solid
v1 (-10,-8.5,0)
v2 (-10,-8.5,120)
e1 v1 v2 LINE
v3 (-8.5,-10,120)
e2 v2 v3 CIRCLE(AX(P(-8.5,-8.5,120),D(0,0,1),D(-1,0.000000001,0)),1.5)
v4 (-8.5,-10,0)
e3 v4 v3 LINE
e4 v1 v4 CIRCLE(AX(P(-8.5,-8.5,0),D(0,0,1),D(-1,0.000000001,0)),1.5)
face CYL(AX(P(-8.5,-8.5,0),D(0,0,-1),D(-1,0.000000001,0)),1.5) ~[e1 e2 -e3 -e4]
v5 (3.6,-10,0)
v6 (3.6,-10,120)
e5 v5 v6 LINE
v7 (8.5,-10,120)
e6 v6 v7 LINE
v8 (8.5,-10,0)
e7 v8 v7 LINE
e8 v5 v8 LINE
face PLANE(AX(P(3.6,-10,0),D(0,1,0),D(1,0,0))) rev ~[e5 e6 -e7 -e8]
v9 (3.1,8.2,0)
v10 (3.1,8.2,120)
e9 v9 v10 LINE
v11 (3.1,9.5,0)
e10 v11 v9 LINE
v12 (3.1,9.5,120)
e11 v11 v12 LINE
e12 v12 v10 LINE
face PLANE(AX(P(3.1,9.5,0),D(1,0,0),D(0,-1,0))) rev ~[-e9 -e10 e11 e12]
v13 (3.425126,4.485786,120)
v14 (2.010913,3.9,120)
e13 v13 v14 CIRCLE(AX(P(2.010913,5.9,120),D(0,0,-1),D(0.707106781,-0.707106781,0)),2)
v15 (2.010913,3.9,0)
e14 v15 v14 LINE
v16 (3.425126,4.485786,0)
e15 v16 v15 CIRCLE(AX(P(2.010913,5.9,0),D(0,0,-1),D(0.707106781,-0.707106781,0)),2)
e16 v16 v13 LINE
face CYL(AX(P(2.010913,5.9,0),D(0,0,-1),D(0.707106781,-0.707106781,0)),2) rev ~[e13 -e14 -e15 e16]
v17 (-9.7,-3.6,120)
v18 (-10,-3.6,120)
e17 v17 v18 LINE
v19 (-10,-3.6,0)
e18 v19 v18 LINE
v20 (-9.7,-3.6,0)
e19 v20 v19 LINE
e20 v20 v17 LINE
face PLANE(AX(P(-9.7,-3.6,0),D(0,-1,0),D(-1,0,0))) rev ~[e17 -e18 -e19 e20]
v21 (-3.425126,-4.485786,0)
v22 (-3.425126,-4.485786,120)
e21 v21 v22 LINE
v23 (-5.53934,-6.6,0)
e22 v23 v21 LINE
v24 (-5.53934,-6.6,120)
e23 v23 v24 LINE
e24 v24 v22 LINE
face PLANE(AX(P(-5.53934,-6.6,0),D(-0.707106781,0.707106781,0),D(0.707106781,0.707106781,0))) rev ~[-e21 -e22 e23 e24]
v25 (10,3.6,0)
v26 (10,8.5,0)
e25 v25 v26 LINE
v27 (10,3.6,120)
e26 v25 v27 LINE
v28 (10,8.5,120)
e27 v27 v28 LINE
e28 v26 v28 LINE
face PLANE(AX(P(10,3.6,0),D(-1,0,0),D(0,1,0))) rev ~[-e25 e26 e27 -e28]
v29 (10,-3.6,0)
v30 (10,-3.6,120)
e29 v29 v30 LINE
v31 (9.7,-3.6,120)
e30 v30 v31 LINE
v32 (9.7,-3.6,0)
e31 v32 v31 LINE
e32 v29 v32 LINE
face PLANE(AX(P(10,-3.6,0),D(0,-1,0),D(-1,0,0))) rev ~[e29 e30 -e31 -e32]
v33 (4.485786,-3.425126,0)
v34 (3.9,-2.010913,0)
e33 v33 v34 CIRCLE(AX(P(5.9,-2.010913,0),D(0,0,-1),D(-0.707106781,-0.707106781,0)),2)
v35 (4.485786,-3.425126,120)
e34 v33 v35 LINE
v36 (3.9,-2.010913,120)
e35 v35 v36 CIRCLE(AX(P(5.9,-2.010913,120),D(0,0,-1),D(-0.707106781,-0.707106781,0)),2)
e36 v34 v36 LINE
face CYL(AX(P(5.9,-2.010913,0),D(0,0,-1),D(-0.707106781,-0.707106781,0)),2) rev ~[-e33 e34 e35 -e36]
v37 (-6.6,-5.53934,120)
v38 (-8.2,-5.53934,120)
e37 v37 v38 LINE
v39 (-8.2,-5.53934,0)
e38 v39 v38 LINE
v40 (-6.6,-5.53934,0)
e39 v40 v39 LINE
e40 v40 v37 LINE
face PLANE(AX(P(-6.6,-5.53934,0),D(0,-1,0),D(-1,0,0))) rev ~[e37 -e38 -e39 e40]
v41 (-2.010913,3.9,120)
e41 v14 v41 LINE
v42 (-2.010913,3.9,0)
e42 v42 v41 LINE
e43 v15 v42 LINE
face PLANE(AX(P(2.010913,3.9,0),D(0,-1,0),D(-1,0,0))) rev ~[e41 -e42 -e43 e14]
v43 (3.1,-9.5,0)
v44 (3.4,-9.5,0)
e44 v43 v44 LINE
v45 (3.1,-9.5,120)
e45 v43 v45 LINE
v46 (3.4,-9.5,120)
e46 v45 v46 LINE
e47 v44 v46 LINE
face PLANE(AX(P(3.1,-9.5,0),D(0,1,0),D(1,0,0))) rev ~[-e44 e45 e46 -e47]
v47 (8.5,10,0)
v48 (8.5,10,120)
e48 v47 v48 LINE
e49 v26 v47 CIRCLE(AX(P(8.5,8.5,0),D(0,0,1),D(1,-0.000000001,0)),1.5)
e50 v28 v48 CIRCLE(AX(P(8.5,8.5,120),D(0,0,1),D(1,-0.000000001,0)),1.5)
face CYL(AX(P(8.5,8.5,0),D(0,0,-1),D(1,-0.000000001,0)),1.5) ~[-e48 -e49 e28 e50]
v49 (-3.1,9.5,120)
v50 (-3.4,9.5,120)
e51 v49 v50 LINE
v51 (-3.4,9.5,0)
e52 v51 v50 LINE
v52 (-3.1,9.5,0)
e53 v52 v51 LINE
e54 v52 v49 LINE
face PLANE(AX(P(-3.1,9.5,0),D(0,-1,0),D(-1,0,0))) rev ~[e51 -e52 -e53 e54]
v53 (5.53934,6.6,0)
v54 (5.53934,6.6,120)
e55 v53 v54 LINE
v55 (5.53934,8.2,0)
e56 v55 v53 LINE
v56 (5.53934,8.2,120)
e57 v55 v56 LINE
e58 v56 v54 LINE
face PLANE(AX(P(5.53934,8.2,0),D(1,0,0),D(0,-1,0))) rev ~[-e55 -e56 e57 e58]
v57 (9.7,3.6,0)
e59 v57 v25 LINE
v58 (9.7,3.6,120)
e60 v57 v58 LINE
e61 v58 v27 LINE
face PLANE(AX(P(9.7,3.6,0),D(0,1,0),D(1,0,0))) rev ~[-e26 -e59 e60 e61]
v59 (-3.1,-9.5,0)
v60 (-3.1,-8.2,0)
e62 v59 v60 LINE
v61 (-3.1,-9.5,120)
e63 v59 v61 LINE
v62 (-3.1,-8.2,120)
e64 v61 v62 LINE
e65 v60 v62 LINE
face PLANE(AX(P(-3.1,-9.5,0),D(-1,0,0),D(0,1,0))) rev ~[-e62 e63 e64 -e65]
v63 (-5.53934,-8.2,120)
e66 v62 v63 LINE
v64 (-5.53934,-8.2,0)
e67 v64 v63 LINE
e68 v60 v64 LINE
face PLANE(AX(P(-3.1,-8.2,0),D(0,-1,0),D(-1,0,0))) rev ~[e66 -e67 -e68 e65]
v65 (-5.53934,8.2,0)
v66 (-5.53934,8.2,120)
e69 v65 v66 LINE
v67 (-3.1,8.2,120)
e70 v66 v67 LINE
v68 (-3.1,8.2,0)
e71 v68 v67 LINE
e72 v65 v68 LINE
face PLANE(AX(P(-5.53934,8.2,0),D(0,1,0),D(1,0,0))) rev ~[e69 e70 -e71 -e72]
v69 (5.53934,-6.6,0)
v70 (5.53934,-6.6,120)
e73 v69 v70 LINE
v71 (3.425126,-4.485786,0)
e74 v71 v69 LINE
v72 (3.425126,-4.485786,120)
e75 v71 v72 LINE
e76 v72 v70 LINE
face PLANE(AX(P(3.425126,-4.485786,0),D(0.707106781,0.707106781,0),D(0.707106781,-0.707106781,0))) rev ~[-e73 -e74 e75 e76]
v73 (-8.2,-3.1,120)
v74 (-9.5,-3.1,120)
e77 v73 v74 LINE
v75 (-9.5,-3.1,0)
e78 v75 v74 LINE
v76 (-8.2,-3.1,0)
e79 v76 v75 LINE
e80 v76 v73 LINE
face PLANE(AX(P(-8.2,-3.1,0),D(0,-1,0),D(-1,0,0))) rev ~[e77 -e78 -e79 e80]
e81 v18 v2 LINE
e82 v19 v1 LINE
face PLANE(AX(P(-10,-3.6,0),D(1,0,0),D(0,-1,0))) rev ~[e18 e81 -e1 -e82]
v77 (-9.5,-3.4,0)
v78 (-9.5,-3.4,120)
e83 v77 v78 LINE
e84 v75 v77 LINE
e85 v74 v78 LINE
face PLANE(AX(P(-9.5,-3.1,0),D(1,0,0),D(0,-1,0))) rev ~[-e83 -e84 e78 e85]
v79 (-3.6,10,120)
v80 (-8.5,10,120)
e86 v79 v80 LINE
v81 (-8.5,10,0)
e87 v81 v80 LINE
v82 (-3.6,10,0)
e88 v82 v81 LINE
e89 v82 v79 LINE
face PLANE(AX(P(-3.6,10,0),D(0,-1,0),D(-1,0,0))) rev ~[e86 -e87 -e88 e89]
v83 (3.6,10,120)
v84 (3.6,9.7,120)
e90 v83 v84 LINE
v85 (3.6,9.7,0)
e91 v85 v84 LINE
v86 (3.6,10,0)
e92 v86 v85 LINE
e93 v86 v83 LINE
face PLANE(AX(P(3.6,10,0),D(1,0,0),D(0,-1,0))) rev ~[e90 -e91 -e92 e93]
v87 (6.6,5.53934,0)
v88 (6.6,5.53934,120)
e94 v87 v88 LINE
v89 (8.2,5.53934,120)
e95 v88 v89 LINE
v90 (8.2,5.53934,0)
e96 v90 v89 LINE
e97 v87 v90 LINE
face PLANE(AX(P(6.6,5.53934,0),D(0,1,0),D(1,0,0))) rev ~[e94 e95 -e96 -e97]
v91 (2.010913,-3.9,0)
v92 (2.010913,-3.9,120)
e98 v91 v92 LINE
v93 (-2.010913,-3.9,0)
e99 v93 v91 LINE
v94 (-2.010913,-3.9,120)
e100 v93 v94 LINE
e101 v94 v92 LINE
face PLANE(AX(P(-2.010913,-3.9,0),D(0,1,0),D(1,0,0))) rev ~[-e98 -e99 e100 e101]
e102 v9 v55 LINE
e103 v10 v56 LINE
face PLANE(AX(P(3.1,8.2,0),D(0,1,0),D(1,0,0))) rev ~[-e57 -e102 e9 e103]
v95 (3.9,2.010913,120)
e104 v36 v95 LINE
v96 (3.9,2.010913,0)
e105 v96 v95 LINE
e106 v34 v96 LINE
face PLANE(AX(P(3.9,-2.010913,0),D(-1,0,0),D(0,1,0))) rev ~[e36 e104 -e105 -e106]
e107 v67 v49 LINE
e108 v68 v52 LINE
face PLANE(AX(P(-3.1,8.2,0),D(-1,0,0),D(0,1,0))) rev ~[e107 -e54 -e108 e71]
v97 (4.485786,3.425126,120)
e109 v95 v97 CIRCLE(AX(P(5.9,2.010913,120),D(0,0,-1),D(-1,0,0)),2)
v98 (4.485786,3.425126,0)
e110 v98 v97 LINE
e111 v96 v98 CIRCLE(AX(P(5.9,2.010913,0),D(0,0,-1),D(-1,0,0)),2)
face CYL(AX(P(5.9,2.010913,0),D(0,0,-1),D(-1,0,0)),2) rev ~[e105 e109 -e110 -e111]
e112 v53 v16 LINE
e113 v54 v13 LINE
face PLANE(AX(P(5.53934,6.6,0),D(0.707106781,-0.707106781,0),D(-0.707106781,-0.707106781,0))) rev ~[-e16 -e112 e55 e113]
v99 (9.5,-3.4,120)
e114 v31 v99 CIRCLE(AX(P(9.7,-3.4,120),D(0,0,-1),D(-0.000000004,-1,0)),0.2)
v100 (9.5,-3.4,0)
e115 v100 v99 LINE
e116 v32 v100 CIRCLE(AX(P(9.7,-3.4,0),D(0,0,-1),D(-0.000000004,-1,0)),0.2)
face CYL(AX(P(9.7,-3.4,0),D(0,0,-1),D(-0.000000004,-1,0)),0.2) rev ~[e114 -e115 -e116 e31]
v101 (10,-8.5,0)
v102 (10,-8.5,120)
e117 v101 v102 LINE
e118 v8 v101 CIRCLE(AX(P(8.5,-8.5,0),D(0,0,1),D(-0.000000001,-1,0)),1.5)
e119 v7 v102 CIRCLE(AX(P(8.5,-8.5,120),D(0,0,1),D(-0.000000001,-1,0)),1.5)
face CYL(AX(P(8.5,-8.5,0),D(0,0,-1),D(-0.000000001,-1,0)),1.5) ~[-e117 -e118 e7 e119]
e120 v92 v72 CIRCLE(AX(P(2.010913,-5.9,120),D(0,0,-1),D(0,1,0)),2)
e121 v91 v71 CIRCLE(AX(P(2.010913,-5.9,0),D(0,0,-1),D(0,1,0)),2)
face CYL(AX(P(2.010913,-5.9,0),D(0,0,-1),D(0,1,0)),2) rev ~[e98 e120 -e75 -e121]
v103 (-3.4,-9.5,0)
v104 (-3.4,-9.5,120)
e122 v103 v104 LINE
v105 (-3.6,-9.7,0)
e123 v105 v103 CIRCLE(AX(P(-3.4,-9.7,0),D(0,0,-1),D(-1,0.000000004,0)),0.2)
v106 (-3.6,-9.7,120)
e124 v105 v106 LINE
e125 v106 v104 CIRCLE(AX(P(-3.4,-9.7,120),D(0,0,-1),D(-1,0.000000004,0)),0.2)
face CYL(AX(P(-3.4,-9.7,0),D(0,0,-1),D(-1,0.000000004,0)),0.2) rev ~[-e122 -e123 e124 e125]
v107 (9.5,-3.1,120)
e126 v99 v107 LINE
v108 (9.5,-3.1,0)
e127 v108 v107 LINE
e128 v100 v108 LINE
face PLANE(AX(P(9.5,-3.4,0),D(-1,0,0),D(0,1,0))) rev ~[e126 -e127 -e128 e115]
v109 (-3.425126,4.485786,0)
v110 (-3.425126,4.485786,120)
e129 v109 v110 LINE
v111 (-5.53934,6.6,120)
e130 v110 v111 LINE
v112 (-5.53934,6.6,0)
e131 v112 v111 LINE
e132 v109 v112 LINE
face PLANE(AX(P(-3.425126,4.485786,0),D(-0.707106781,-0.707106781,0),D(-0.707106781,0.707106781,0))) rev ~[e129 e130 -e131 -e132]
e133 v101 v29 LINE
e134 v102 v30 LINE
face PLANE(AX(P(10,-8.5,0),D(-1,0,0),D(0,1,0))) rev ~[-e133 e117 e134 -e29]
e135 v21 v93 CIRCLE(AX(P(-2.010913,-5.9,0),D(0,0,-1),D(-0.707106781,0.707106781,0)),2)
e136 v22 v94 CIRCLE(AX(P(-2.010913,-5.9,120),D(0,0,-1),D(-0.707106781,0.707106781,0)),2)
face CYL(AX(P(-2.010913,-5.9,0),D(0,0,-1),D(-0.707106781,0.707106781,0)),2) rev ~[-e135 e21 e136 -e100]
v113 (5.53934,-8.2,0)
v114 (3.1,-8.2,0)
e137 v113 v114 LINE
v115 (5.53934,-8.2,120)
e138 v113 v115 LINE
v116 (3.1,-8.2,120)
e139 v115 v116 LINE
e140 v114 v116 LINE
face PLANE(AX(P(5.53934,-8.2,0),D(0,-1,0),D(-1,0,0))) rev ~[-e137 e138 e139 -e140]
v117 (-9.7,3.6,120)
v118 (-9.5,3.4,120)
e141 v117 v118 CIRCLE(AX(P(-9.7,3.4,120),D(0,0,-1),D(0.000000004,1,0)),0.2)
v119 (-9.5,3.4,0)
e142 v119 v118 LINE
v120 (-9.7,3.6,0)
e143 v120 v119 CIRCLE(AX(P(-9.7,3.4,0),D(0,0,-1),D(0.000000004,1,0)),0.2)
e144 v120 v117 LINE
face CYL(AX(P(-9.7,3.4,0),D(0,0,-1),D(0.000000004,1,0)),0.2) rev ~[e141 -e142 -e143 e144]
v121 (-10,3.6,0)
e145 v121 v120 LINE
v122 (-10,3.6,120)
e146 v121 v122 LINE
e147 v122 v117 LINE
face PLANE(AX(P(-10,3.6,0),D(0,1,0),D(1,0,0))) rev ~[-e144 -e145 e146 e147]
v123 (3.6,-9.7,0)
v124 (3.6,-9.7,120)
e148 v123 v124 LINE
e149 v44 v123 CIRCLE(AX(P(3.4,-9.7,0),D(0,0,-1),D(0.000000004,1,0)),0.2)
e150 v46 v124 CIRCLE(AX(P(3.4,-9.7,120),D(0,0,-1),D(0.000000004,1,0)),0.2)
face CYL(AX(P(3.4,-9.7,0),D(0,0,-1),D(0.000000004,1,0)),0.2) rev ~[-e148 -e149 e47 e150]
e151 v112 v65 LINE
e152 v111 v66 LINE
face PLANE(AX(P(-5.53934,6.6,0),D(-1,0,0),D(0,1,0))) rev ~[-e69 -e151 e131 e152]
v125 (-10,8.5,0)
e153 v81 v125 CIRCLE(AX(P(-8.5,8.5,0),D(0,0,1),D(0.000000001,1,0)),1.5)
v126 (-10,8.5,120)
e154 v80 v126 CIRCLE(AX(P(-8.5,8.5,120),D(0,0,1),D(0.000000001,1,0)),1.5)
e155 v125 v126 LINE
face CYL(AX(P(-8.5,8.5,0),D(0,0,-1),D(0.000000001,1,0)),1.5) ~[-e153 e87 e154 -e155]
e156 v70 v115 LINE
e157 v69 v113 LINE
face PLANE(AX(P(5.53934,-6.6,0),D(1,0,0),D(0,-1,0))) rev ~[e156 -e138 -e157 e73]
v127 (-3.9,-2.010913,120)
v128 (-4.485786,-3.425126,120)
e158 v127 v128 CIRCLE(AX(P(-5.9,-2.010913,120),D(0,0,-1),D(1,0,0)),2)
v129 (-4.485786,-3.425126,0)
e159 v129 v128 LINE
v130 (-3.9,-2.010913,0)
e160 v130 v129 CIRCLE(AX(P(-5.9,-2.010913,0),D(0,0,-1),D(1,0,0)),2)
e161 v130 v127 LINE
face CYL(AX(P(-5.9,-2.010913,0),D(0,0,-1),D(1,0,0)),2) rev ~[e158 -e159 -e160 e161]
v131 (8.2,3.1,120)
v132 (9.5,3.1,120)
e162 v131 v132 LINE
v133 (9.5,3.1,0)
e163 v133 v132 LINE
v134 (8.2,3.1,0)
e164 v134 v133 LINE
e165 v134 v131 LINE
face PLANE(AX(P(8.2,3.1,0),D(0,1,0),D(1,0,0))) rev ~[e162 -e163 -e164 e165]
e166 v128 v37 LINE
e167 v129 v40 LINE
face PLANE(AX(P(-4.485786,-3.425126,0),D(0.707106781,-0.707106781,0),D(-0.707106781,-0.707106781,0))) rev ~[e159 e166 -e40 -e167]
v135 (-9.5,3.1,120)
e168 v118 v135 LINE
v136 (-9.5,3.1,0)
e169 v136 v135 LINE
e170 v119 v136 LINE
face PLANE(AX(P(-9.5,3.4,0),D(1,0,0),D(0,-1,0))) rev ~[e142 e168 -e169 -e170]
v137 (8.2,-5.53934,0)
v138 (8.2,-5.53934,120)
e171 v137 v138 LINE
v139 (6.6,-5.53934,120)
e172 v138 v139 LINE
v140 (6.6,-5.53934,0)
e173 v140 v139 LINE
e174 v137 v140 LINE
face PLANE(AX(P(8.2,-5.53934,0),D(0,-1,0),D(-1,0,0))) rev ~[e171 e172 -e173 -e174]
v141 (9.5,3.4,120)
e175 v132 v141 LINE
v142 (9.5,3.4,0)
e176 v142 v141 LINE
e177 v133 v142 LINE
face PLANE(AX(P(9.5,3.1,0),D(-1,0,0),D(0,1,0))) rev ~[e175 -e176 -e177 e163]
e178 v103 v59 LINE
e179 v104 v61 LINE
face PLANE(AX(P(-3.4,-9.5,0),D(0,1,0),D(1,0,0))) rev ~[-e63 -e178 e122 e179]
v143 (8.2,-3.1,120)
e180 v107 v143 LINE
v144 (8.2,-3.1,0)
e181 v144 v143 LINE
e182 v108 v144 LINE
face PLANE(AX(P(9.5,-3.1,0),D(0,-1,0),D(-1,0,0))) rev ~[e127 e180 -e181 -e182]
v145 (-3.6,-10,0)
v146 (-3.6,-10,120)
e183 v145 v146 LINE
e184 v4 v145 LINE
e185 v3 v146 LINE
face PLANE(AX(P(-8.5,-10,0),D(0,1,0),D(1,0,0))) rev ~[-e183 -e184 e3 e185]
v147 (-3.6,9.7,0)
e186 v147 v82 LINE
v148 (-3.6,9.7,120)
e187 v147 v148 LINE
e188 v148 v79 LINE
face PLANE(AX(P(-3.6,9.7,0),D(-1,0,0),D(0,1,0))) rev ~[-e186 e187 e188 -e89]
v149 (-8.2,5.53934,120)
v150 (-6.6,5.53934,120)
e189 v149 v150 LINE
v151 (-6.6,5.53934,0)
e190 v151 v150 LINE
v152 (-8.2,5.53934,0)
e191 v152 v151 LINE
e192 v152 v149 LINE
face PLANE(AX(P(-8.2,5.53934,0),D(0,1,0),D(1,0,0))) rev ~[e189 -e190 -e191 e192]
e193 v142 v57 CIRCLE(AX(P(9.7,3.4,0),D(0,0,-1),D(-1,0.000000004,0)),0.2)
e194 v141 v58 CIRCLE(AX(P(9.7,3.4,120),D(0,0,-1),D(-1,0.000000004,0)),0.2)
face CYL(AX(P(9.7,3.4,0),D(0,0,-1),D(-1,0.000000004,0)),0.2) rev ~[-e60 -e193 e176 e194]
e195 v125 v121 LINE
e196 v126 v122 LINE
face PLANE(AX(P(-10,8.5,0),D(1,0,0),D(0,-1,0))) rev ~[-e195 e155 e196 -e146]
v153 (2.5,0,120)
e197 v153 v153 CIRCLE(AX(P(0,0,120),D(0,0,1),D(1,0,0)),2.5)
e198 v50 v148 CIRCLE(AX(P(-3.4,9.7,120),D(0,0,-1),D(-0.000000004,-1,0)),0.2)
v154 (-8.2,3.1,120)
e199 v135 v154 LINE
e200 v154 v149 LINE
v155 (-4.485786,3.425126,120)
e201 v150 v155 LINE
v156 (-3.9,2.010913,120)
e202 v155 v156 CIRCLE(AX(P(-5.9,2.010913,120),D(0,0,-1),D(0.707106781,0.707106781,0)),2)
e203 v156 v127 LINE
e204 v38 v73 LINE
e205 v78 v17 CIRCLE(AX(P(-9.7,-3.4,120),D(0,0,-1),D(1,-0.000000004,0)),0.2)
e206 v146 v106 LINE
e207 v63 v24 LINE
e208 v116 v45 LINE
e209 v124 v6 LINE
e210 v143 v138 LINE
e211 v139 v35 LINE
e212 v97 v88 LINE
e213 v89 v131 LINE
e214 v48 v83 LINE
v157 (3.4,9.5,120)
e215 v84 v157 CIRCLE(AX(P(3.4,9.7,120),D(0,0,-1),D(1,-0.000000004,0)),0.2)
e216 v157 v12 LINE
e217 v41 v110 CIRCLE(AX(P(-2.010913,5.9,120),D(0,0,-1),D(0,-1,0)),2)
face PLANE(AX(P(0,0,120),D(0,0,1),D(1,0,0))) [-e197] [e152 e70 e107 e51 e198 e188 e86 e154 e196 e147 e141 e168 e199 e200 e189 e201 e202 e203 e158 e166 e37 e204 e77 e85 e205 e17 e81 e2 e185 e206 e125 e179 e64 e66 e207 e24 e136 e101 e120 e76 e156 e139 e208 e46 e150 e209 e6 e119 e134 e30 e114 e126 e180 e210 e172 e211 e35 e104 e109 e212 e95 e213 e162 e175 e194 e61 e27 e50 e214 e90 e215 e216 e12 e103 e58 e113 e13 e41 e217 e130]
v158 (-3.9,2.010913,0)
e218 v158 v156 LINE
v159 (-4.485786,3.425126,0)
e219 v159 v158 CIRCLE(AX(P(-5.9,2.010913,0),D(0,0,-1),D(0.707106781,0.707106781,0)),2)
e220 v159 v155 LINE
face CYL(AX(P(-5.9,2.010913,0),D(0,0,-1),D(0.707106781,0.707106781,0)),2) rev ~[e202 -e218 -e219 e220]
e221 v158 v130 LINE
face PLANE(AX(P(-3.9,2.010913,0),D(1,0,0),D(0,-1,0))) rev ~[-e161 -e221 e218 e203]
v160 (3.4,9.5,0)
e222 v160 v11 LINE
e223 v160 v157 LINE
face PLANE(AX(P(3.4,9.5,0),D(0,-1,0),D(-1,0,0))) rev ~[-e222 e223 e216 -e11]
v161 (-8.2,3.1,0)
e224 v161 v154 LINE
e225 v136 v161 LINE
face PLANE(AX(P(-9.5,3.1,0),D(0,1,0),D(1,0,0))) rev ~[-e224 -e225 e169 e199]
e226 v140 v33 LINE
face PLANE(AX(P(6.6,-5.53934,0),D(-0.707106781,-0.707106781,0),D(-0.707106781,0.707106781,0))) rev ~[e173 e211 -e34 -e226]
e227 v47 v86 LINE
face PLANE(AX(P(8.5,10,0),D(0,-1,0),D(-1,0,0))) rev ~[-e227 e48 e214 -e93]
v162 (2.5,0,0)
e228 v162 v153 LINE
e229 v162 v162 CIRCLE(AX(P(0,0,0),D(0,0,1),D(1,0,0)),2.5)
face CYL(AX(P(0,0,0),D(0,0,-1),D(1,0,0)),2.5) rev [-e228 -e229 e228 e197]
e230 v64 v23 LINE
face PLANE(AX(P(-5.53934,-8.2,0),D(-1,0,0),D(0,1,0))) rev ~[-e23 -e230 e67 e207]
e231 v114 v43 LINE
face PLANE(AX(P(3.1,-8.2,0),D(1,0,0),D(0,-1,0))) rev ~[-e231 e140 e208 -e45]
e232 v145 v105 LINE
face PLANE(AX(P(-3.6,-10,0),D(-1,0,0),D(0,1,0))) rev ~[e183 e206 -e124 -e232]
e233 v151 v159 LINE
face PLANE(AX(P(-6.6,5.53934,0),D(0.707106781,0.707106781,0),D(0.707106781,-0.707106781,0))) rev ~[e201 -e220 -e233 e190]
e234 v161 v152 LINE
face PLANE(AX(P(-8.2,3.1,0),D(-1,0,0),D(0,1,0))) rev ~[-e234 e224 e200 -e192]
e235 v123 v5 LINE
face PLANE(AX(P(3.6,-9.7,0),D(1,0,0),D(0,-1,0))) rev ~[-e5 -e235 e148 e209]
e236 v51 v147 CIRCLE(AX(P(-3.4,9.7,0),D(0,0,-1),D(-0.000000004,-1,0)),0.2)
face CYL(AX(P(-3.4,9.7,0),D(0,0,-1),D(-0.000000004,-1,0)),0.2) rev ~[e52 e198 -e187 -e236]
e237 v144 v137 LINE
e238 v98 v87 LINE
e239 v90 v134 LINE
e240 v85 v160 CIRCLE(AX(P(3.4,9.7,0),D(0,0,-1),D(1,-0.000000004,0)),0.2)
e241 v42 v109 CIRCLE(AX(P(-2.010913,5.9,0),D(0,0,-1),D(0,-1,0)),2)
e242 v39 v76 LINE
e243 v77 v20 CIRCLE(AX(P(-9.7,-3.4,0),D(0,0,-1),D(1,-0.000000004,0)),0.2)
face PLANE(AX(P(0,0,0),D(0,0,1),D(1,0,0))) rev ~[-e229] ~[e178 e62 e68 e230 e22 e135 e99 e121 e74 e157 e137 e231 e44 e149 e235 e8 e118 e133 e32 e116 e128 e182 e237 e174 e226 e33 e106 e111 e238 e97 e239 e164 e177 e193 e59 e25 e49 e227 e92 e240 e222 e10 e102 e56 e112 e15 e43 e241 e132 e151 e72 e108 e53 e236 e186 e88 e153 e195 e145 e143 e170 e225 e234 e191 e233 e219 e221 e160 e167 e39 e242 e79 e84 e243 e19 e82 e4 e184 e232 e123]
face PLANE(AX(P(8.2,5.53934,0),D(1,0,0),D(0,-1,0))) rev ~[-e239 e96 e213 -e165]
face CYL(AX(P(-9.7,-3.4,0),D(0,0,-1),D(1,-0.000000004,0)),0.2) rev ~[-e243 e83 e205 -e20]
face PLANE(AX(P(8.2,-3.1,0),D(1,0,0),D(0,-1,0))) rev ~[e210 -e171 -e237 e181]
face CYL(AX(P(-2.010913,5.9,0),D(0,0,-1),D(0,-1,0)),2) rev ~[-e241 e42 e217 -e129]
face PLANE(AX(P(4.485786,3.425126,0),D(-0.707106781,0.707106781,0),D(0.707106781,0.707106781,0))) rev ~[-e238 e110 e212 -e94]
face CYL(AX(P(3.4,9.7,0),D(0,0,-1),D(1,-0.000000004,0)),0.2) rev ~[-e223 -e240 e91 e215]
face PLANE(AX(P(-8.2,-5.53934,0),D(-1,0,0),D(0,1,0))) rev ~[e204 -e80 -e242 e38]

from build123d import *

# Parameters (mm, degrees)
SKETCH1_R       = 2.5
EXTRUDE_1_DEPTH = 120


with BuildPart() as part:
    # Sketch1 → Бобышка-Вытянуть1 (new body)
    with BuildSketch(Plane.XY):
        with BuildLine():
            Line((0, 3.9), (-2.010912703, 3.9))
            ThreePointArc((-2.010912703, 3.9), (-2.776279568, 4.052240935), (-3.425126266, 4.485786438))
            Line((-3.425126266, 4.485786438), (-5.539339828, 6.6))
            Line((-5.539339828, 6.6), (-5.539339828, 8.2))
            Line((-5.539339828, 8.2), (-3.1, 8.2))
            Line((-3.1, 8.2), (-3.1, 9.5))
            Line((-3.1, 9.5), (-3.4, 9.5))
            ThreePointArc((-3.4, 9.5), (-3.541421356, 9.558578644), (-3.6, 9.7))
            Line((-3.6, 9.7), (-3.6, 10))
            Line((-3.6, 10), (-8.5, 10))
            ThreePointArc((-8.5, 10), (-9.560660172, 9.560660172), (-10, 8.5))
            Line((-10, 8.5), (-10, 3.6))
            Line((-10, 3.6), (-9.7, 3.6))
            ThreePointArc((-9.7, 3.6), (-9.558578644, 3.541421356), (-9.5, 3.4))
            Line((-9.5, 3.4), (-9.5, 3.1))
            Line((-9.5, 3.1), (-8.2, 3.1))
            Line((-8.2, 3.1), (-8.2, 5.539339828))
            Line((-8.2, 5.539339828), (-6.6, 5.539339828))
            Line((-6.6, 5.539339828), (-4.485786438, 3.425126266))
            ThreePointArc((-4.485786438, 3.425126266), (-4.052240935, 2.776279568), (-3.9, 2.010912703))
            Line((-3.9, 2.010912703), (-3.9, 0))
            Line((-3.9, 0), (-3.9, -2.010912703))
            ThreePointArc((-3.9, -2.010912703), (-4.052240935, -2.776279568), (-4.485786438, -3.425126266))
            Line((-4.485786438, -3.425126266), (-6.6, -5.539339828))
            Line((-6.6, -5.539339828), (-8.2, -5.539339828))
            Line((-8.2, -5.539339828), (-8.2, -3.1))
            Line((-8.2, -3.1), (-9.5, -3.1))
            Line((-9.5, -3.1), (-9.5, -3.4))
            ThreePointArc((-9.5, -3.4), (-9.558578644, -3.541421356), (-9.7, -3.6))
            Line((-9.7, -3.6), (-10, -3.6))
            Line((-10, -3.6), (-10, -8.5))
            ThreePointArc((-10, -8.5), (-9.560660172, -9.560660172), (-8.5, -10))
            Line((-8.5, -10), (-3.6, -10))
            Line((-3.6, -10), (-3.6, -9.7))
            ThreePointArc((-3.6, -9.7), (-3.541421356, -9.558578644), (-3.4, -9.5))
            Line((-3.4, -9.5), (-3.1, -9.5))
            Line((-3.1, -9.5), (-3.1, -8.2))
            Line((-3.1, -8.2), (-5.539339828, -8.2))
            Line((-5.539339828, -8.2), (-5.539339828, -6.6))
            Line((-5.539339828, -6.6), (-3.425126266, -4.485786438))
            ThreePointArc((-3.425126266, -4.485786438), (-2.776279568, -4.052240935), (-2.010912703, -3.9))
            Line((-2.010912703, -3.9), (0, -3.9))
            Line((0, -3.9), (2.010912703, -3.9))
            ThreePointArc((2.010912703, -3.9), (2.776279568, -4.052240935), (3.425126266, -4.485786438))
            Line((3.425126266, -4.485786438), (5.539339828, -6.6))
            Line((5.539339828, -6.6), (5.539339828, -8.2))
            Line((5.539339828, -8.2), (3.1, -8.2))
            Line((3.1, -8.2), (3.1, -9.5))
            Line((3.1, -9.5), (3.4, -9.5))
            ThreePointArc((3.4, -9.5), (3.541421356, -9.558578644), (3.6, -9.7))
            Line((3.6, -9.7), (3.6, -10))
            Line((3.6, -10), (8.5, -10))
            ThreePointArc((8.5, -10), (9.560660172, -9.560660172), (10, -8.5))
            Line((10, -8.5), (10, -3.6))
            Line((10, -3.6), (9.7, -3.6))
            ThreePointArc((9.7, -3.6), (9.558578644, -3.541421356), (9.5, -3.4))
            Line((9.5, -3.4), (9.5, -3.1))
            Line((9.5, -3.1), (8.2, -3.1))
            Line((8.2, -3.1), (8.2, -5.539339828))
            Line((8.2, -5.539339828), (6.6, -5.539339828))
            Line((6.6, -5.539339828), (4.485786438, -3.425126266))
            ThreePointArc((4.485786438, -3.425126266), (4.052240935, -2.776279568), (3.9, -2.010912703))
            Line((3.9, -2.010912703), (3.9, 0))
            Line((3.9, 0), (3.9, 2.010912703))
            ThreePointArc((3.9, 2.010912703), (4.052240935, 2.776279568), (4.485786438, 3.425126266))
            Line((4.485786438, 3.425126266), (6.6, 5.539339828))
            Line((6.6, 5.539339828), (8.2, 5.539339828))
            Line((8.2, 5.539339828), (8.2, 3.1))
            Line((8.2, 3.1), (9.5, 3.1))
            Line((9.5, 3.1), (9.5, 3.4))
            ThreePointArc((9.5, 3.4), (9.558578644, 3.541421356), (9.7, 3.6))
            Line((9.7, 3.6), (10, 3.6))
            Line((10, 3.6), (10, 8.5))
            ThreePointArc((10, 8.5), (9.560660172, 9.560660172), (8.5, 10))
            Line((8.5, 10), (3.6, 10))
            Line((3.6, 10), (3.6, 9.7))
            ThreePointArc((3.6, 9.7), (3.541421356, 9.558578644), (3.4, 9.5))
            Line((3.4, 9.5), (3.1, 9.5))
            Line((3.1, 9.5), (3.1, 8.2))
            Line((3.1, 8.2), (5.539339828, 8.2))
            Line((5.539339828, 8.2), (5.539339828, 6.6))
            Line((5.539339828, 6.6), (3.425126266, 4.485786438))
            ThreePointArc((3.425126266, 4.485786438), (2.776279568, 4.052240935), (2.010912703, 3.9))
            Line((2.010912703, 3.9), (0, 3.9))
        make_face()
        Circle(SKETCH1_R, mode=Mode.SUBTRACT)
    extrude(amount=EXTRUDE_1_DEPTH)


solid = part.part
